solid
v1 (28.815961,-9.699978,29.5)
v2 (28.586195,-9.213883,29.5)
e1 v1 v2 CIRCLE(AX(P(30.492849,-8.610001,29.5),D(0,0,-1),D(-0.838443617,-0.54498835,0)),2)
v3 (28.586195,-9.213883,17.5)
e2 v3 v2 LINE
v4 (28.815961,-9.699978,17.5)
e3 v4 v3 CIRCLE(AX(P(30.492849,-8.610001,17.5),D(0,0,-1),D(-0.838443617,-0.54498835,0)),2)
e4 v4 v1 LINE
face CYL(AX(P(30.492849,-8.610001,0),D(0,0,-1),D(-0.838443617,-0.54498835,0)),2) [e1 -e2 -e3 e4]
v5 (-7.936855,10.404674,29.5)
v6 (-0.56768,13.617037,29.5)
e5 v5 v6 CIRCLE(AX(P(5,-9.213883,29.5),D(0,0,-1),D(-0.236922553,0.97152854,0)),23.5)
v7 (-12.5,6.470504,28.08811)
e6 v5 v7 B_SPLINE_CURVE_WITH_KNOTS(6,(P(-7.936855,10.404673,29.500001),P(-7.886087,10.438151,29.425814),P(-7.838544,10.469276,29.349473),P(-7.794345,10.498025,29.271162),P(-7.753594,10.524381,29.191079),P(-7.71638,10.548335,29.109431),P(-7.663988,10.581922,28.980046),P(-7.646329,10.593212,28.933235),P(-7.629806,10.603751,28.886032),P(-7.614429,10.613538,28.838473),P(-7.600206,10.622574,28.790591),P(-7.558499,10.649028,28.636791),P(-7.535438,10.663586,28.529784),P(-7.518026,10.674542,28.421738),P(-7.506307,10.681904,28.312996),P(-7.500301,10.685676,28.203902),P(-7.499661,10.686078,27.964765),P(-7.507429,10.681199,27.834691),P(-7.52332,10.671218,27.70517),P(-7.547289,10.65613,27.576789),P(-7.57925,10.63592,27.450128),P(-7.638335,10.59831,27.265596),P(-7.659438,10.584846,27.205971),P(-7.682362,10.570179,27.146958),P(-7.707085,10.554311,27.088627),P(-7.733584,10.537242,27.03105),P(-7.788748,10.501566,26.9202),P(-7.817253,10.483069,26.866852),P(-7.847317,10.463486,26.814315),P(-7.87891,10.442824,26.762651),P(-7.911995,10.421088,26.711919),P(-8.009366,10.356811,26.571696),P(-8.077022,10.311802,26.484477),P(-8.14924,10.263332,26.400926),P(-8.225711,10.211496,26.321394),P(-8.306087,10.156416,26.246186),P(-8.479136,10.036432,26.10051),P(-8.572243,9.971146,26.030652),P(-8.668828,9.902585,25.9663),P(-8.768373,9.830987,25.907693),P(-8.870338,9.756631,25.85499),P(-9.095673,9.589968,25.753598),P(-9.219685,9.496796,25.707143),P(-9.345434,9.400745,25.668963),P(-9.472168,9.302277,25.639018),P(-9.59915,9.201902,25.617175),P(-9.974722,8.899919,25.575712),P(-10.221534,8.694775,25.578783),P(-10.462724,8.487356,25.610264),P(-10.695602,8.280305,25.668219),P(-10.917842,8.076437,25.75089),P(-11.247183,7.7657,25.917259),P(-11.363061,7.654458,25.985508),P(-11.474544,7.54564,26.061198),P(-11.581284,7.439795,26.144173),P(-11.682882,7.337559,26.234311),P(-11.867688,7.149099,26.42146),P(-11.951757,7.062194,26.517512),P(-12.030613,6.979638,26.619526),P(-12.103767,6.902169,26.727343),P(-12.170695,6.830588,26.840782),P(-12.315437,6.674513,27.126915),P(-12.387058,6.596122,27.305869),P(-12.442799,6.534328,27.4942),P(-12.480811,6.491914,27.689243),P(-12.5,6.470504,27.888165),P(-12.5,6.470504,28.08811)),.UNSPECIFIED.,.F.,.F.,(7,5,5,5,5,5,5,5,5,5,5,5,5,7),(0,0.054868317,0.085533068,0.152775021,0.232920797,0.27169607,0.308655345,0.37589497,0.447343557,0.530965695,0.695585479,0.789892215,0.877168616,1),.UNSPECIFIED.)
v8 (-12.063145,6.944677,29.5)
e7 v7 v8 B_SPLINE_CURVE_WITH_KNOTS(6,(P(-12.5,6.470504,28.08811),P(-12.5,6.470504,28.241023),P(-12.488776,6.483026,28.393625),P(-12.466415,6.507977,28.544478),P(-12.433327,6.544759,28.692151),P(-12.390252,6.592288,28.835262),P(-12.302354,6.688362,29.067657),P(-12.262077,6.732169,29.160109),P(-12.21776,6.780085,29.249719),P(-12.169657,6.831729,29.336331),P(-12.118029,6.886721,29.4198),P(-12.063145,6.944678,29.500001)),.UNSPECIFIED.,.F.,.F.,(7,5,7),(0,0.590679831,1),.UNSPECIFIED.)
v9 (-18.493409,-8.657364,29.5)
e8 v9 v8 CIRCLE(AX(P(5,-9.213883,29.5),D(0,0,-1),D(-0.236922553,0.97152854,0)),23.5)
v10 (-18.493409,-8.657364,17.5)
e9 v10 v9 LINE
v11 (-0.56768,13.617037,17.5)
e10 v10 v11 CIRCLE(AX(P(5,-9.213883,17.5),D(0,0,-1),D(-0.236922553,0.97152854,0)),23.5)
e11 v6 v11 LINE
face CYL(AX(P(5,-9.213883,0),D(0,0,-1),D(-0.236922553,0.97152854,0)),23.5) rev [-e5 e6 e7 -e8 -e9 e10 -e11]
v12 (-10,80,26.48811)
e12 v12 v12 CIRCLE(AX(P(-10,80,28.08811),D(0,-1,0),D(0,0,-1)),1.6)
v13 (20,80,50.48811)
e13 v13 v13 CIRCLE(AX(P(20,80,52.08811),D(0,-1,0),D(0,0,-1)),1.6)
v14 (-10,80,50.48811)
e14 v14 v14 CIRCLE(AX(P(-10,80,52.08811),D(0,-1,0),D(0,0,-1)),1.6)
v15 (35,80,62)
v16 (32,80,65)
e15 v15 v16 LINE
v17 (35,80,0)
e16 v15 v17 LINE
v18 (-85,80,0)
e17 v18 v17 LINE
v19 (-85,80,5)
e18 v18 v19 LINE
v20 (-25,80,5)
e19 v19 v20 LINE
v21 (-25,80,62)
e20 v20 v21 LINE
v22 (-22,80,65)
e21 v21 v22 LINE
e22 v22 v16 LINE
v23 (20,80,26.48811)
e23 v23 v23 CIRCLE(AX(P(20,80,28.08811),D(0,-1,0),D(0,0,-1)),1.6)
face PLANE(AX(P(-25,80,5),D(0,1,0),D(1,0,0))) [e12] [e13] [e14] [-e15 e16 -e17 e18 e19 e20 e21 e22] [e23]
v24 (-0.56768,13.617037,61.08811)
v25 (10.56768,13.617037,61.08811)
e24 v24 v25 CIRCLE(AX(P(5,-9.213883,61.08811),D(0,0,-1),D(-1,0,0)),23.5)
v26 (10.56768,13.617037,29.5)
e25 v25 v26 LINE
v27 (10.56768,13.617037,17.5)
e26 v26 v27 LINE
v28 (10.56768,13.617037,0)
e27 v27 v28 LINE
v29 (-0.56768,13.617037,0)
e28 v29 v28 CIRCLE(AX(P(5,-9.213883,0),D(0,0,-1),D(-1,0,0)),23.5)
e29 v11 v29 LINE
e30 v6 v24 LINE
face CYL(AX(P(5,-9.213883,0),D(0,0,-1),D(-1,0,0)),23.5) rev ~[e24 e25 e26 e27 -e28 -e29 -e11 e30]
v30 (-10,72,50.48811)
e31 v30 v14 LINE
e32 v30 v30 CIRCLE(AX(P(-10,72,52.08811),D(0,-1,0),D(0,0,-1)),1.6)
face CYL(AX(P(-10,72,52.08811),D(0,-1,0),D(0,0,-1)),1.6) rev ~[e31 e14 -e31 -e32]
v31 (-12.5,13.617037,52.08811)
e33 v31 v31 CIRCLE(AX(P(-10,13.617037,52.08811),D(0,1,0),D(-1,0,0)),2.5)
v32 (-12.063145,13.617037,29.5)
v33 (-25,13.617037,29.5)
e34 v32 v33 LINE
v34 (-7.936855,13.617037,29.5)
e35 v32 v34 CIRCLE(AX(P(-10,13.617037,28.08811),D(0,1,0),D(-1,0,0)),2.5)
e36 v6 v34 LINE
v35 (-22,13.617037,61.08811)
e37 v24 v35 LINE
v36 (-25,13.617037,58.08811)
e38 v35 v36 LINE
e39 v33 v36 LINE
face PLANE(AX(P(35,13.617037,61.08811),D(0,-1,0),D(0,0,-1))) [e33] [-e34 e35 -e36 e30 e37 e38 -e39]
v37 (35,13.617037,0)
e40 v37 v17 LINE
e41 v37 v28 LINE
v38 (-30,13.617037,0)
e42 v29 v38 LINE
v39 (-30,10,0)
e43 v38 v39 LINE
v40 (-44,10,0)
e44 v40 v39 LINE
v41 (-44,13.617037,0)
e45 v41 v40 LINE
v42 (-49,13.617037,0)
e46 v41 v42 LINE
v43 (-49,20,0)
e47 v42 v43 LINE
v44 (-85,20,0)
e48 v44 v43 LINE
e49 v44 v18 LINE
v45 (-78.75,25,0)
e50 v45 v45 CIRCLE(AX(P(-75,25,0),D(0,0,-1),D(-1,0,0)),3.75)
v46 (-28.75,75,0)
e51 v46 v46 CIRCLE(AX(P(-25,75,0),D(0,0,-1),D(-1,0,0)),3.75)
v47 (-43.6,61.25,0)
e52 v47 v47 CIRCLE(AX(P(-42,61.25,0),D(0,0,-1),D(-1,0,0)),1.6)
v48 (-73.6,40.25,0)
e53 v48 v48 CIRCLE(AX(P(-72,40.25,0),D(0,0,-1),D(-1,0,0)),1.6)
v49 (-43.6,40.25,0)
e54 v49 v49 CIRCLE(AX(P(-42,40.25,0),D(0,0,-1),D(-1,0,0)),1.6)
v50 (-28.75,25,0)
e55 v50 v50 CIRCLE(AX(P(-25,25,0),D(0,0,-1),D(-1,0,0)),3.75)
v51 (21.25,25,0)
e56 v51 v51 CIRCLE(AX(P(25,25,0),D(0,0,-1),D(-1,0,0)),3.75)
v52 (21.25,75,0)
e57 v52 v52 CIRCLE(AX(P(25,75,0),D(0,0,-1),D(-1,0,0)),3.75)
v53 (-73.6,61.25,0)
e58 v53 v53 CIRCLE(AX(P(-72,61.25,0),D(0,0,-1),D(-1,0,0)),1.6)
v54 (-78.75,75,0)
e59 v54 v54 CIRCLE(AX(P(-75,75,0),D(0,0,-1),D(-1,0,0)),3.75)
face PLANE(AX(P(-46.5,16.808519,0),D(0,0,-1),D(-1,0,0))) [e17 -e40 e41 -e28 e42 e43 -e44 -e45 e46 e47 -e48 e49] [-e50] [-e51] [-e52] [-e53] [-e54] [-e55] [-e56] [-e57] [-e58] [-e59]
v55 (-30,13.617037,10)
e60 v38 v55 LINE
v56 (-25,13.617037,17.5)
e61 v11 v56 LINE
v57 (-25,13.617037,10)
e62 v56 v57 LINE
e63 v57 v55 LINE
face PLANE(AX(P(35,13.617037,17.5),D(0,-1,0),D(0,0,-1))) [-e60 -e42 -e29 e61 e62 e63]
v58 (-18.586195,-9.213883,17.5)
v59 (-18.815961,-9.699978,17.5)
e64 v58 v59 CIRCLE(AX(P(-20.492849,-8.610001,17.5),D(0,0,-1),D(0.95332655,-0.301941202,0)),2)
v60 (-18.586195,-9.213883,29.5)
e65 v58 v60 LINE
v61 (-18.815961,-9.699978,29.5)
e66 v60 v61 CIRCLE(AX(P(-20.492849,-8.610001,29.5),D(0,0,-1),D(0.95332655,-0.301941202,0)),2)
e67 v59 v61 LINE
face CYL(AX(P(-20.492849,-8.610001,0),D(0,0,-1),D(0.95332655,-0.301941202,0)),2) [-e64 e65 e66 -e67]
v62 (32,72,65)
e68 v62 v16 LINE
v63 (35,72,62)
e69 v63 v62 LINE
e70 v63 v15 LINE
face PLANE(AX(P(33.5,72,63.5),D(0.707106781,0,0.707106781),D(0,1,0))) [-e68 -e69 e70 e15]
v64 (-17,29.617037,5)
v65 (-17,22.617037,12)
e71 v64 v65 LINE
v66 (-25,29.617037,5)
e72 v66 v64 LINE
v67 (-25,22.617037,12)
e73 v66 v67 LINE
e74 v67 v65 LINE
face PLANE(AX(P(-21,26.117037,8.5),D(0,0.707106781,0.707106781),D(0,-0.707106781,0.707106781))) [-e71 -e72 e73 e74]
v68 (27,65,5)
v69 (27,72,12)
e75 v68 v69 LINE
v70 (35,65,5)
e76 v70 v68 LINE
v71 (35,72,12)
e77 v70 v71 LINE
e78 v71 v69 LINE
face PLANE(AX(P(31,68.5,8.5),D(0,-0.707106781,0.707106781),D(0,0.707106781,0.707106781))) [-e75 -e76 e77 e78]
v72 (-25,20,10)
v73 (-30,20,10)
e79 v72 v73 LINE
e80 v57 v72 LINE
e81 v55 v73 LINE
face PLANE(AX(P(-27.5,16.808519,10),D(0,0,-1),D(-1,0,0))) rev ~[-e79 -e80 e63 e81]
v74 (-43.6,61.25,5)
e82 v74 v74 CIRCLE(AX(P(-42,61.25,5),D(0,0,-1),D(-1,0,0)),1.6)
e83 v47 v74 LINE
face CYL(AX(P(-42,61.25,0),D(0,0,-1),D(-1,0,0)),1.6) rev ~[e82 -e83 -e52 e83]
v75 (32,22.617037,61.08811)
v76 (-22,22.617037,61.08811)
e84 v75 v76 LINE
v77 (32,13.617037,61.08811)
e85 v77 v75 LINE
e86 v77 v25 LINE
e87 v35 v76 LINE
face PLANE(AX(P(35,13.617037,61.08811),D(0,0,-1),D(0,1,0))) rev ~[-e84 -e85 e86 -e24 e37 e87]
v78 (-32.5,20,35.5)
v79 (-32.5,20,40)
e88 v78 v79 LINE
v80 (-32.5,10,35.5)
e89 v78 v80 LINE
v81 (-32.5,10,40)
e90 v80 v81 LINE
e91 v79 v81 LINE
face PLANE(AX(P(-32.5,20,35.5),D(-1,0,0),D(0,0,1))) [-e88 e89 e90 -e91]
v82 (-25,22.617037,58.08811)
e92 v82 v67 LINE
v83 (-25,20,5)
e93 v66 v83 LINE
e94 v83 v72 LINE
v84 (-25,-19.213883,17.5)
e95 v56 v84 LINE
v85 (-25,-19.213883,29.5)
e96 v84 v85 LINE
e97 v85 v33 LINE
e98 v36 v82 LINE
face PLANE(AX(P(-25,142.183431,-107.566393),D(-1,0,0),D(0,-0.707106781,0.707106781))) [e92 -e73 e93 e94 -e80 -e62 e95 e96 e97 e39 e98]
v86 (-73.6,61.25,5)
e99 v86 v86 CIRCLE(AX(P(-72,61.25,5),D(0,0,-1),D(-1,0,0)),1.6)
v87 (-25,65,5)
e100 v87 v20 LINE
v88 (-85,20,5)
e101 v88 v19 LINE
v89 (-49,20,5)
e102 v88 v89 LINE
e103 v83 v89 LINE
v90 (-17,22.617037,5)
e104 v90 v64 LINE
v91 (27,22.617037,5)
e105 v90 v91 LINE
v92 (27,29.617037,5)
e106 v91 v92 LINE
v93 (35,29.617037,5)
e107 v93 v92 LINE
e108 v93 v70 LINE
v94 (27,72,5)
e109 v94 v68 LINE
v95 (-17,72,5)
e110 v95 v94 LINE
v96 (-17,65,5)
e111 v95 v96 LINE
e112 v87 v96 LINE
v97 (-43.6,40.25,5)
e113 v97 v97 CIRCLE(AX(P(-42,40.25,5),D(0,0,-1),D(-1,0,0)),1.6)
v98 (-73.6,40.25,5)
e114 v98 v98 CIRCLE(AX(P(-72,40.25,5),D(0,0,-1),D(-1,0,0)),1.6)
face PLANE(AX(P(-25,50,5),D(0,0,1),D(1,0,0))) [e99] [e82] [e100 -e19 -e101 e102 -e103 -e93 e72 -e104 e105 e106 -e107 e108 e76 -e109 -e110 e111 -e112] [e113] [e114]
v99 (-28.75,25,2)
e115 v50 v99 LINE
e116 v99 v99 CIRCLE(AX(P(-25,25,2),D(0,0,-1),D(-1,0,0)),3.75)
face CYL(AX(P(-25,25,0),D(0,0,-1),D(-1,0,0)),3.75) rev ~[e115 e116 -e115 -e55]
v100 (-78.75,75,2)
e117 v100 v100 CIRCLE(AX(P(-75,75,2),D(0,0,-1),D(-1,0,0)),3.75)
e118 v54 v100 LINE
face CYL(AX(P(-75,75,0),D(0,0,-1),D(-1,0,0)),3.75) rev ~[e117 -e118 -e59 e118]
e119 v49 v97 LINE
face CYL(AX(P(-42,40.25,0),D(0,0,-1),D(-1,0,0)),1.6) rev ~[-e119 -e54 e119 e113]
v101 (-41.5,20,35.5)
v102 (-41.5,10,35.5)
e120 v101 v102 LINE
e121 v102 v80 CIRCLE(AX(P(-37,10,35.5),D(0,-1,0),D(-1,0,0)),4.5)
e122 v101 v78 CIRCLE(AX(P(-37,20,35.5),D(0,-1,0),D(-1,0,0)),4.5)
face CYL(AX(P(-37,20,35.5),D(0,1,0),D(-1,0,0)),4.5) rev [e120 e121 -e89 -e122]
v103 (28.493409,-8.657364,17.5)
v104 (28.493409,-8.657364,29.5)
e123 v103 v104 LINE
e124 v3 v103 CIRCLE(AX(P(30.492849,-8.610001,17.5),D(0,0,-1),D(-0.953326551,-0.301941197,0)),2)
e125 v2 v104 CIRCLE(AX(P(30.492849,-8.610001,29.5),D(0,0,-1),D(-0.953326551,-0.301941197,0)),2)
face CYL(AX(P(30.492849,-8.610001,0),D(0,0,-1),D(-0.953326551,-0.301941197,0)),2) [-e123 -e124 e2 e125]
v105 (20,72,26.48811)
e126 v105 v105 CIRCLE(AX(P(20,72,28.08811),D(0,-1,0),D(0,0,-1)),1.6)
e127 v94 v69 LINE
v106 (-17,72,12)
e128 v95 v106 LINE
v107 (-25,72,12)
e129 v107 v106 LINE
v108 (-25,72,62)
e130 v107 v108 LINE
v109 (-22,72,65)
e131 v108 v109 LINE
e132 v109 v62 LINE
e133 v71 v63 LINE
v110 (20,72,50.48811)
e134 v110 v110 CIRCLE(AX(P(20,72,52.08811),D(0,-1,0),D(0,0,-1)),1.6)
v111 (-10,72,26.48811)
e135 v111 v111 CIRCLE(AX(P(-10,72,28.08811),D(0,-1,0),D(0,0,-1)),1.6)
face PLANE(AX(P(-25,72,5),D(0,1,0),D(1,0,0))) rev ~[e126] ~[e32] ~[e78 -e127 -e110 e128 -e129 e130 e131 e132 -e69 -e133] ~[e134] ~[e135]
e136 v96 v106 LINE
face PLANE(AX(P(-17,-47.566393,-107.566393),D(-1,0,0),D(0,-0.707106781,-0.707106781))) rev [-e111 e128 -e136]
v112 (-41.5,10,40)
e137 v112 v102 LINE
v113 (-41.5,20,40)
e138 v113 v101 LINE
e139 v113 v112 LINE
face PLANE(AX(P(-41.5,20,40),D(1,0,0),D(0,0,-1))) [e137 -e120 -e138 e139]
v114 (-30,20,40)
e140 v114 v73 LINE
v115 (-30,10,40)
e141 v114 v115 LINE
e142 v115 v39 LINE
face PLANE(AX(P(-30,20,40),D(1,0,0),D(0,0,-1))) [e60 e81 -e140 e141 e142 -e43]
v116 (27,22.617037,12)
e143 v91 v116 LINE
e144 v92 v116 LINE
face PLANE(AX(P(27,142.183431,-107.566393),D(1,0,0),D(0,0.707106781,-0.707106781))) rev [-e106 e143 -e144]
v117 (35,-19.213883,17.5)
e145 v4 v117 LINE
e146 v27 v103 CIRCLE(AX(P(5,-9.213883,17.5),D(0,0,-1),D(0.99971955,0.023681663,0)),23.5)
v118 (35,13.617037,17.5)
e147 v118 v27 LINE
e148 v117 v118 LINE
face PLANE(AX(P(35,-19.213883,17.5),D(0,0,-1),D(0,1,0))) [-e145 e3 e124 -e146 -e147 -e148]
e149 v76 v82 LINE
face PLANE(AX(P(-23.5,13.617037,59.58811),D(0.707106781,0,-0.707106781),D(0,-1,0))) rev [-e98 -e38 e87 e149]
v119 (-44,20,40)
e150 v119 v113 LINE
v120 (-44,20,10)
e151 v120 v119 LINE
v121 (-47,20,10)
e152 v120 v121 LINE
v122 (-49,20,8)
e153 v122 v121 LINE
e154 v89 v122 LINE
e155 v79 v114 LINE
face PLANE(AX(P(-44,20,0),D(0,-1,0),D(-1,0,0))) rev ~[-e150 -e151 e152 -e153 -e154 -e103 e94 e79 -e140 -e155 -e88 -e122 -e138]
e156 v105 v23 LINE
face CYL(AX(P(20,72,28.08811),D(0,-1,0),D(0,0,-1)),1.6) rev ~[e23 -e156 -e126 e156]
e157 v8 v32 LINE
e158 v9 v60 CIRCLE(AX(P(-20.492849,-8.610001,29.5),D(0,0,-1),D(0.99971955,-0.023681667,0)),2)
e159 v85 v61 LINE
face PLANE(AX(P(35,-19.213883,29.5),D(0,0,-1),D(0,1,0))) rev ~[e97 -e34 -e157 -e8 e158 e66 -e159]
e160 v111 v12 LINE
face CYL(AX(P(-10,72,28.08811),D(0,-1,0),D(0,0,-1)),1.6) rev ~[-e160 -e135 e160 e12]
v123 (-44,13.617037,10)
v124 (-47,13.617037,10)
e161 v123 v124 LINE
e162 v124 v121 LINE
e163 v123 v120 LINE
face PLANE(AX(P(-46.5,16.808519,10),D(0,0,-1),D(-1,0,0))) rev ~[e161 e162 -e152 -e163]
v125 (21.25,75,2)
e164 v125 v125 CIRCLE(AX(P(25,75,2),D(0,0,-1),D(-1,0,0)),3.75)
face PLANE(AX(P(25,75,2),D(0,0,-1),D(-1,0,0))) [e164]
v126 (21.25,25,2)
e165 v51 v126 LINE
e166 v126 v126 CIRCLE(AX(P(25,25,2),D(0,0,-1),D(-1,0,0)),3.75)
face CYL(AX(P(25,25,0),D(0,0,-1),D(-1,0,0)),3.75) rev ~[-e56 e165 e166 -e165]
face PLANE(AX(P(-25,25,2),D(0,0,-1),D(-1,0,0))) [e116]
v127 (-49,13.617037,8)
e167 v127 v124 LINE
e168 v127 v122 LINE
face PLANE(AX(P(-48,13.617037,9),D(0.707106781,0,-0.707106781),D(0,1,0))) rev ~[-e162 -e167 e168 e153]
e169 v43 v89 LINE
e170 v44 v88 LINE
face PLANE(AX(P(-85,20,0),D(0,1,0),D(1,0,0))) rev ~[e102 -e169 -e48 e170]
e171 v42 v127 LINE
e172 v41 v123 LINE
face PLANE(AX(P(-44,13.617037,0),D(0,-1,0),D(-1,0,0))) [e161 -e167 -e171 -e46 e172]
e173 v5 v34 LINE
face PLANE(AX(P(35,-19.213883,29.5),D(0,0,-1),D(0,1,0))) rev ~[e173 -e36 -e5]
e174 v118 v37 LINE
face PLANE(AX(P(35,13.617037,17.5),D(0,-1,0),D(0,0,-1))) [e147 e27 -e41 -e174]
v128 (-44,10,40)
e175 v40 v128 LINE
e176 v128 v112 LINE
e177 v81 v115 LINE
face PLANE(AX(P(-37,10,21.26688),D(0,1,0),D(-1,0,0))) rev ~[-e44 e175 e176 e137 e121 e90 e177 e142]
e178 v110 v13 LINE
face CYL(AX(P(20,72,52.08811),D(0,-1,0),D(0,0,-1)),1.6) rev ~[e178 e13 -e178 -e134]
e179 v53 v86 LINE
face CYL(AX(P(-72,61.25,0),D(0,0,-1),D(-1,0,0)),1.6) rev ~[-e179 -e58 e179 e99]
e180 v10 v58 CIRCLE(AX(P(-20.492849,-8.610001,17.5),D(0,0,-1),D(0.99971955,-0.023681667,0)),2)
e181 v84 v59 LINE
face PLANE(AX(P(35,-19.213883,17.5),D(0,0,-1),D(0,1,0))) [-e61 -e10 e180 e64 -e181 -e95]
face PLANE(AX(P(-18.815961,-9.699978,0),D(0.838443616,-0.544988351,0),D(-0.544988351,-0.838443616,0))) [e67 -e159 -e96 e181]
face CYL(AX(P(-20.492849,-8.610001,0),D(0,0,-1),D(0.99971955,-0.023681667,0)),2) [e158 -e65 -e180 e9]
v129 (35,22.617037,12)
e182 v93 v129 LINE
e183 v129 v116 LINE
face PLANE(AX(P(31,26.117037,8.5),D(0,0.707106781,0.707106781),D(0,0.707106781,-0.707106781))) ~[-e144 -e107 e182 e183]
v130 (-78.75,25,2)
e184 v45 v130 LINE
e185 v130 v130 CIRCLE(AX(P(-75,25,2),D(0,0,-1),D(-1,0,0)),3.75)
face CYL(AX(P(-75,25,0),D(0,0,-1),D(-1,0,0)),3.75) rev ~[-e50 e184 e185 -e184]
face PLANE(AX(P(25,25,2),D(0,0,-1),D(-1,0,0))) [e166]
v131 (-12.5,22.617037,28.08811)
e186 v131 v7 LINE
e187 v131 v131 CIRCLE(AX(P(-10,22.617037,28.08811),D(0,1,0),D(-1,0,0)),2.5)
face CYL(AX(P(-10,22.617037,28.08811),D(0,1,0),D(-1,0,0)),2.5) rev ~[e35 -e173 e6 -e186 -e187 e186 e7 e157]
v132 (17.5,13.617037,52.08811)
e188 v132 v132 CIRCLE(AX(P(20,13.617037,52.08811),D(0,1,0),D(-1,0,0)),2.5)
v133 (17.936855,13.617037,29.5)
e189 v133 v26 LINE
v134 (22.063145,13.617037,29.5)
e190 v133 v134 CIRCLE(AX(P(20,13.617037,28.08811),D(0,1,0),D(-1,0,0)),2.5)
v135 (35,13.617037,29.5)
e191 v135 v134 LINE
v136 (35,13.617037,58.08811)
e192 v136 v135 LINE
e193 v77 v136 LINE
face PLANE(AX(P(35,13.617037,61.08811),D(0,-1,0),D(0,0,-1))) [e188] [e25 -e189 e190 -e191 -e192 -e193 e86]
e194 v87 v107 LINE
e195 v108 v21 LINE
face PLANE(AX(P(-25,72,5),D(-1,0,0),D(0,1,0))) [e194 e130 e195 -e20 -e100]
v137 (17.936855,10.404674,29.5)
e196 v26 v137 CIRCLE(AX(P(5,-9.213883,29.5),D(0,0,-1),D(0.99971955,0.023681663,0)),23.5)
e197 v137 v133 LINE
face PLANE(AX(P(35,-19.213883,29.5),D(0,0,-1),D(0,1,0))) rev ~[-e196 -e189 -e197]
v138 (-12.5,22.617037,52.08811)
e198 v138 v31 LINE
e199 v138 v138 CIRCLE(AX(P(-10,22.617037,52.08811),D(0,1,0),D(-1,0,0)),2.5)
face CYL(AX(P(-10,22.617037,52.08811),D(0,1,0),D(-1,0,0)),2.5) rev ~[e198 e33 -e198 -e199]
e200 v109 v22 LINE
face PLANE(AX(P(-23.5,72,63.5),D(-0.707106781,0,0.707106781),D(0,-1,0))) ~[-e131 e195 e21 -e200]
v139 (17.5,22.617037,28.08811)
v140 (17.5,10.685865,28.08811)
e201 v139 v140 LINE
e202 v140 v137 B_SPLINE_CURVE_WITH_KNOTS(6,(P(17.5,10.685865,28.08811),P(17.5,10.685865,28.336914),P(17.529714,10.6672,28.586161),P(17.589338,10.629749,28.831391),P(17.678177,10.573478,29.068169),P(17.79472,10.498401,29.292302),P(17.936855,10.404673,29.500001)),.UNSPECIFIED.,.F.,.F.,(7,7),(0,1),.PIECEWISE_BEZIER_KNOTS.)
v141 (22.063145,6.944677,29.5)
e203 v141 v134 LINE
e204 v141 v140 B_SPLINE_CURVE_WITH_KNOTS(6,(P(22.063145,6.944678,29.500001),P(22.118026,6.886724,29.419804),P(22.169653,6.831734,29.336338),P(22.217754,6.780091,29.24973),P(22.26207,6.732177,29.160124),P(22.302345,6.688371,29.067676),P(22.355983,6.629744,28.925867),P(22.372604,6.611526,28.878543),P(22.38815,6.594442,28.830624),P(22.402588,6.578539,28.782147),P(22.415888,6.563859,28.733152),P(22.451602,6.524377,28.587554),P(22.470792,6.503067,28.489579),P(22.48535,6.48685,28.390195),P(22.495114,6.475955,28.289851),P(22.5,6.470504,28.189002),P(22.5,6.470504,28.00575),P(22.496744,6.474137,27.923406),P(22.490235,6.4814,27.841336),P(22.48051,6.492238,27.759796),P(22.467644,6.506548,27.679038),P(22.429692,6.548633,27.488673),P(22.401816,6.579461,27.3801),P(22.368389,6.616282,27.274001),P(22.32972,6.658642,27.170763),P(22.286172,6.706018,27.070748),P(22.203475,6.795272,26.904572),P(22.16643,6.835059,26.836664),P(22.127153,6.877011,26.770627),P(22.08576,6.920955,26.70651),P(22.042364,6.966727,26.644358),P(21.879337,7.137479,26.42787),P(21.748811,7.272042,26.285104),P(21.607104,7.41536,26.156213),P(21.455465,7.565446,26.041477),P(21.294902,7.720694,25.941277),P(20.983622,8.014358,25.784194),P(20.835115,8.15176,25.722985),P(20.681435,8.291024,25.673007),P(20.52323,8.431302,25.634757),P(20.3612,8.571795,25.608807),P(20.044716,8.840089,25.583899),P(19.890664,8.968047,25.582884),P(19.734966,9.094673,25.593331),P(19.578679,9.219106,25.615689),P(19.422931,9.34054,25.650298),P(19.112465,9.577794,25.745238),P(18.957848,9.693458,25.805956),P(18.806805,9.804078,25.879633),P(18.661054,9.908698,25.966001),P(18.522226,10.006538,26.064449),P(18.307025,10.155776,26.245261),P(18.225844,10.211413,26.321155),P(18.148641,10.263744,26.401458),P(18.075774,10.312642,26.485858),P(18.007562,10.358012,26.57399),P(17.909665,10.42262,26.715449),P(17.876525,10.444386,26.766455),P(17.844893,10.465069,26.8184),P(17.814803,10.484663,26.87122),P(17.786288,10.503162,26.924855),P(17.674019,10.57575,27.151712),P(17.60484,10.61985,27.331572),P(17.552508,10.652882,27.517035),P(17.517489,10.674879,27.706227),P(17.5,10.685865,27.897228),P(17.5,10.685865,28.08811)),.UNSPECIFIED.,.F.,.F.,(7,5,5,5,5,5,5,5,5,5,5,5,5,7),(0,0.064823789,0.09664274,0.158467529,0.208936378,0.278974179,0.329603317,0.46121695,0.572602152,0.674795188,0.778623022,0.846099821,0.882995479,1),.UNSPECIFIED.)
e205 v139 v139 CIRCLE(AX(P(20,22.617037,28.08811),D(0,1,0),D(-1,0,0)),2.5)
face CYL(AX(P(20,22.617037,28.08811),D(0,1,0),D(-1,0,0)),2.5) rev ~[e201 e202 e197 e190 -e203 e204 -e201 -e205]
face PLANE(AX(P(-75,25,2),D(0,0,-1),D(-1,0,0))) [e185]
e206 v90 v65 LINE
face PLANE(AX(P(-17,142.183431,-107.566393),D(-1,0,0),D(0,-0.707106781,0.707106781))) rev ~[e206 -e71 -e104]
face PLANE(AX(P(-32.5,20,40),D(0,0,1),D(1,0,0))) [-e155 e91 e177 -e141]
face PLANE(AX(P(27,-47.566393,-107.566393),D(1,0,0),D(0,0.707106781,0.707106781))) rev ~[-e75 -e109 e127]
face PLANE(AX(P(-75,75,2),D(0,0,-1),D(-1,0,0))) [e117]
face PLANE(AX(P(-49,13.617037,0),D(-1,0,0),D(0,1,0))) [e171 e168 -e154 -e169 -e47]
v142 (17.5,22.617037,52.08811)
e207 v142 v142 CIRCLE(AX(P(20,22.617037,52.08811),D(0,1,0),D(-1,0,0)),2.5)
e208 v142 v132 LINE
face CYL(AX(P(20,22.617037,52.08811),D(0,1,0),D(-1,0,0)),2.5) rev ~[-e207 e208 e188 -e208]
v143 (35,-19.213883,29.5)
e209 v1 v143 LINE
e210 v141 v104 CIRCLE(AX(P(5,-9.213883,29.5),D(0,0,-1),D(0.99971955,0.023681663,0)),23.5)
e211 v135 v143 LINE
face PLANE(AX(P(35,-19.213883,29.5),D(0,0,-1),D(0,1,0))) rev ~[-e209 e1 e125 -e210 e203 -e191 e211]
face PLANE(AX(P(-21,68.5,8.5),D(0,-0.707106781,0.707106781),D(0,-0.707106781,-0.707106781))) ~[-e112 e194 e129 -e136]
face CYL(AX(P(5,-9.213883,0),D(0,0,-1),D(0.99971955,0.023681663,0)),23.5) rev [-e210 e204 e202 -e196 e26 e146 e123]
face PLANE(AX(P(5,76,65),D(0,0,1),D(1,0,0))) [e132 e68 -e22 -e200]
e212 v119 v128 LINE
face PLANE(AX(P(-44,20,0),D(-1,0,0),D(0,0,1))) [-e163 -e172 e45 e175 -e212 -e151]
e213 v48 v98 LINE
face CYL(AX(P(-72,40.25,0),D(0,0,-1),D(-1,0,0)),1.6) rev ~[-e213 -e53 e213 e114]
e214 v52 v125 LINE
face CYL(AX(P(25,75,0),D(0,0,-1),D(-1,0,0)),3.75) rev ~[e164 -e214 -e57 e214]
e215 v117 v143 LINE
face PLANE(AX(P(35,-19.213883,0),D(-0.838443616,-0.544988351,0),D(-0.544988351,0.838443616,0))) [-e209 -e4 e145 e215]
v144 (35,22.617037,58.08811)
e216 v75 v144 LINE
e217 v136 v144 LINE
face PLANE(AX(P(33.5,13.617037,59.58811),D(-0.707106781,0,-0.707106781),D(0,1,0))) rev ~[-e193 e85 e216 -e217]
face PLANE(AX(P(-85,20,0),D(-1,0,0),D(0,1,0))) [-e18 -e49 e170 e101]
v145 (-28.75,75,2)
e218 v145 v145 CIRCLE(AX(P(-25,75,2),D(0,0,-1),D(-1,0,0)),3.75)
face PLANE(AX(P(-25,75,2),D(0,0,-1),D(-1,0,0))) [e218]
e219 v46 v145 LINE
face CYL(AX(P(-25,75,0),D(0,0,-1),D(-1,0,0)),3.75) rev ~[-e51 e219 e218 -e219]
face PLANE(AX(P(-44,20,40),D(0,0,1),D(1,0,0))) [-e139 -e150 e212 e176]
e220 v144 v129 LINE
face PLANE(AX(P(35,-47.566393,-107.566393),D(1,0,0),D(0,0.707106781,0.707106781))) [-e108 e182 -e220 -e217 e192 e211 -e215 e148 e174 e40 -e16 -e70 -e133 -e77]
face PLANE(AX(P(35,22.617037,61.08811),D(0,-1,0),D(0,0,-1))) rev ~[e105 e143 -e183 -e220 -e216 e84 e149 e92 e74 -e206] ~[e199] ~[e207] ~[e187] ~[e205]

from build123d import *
from build123d.topology import SkipClean

# Parameters (mm, degrees)
SKETCH_1_W               = 120
SKETCH_1_H               = 60
EXTRUDE_1_DEPTH          = 5
SKETCH_3_W               = 60
SKETCH_3_H               = 8
EXTRUDE_3_DEPTH          = 60
SKETCH_4_W               = 61.088110118
SKETCH_4_H               = 9
EXTRUDE_4_DEPTH          = 60
SKETCH_6_R               = 23.5
CUT_EXTRUDE_1_DEPTH      = 134.603892159
EXTRUDE_5_DEPTH          = 50
SKETCH_8_W               = 20.5
SKETCH_8_H               = 32.830920687
SKETCH_8_W_2             = 17.5
CUT_EXTRUDE_2_DEPTH      = 60
EXTRUDE_6_DEPTH          = 10
SKETCH_11_R              = 1.6
CUT_EXTRUDE_3_DEPTH      = 141.605734288
SKETCH_12_R              = 1.6
CUT_EXTRUDE_4_DEPTH      = 134.603892159
RIB_1_REACH              = 160.193
SKETCH_13_WALL_W         = 328.285335328
SKETCH_13_WALL_H         = 8
MIRROR_2_COPY_1_REACH    = 160.193
MIRROR_2_COPY_1_SKETCH_W = 328.285335328
MIRROR_2_COPY_1_SKETCH_H = 8
SKETCH_15_W              = 5
SKETCH_15_H              = 6.382962656
EXTRUDE_7_DEPTH          = 10
CHAMFER_2_SIZE           = 2
CHAMFER_3_SIZE           = 3
SKETCH_16_R              = 2.5
CUT_EXTRUDE_5_DEPTH      = 122.419950598
SKETCH_18_R              = 3.75
CUT_EXTRUDE_7_DEPTH      = 2


with BuildPart() as part:
    # 草图1 → 凸台-拉伸1 (new body)
    with BuildSketch(Plane.XY):
        with Locations((-25, 50)):
            Rectangle(SKETCH_1_W, SKETCH_1_H)
    extrude(amount=EXTRUDE_1_DEPTH)

    # 草图3 → 凸台-拉伸3 (add)
    with BuildSketch(Plane.XY.offset(5)):
        with Locations((5, 76)):
            Rectangle(SKETCH_3_W, SKETCH_3_H)
    extrude(amount=EXTRUDE_3_DEPTH)

    # 草图4 → 凸台-拉伸4 (add)
    with BuildSketch(Plane(origin=(35, 0, 0), x_dir=(0, 0, -1), z_dir=(1, 0, 0))):
        with Locations((-30.544055059, 18.117037344)):
            Rectangle(SKETCH_4_W, SKETCH_4_H)
    extrude(amount=-EXTRUDE_4_DEPTH)

    # 草图6 → 切除-拉伸1 (cut, through all)
    with BuildSketch(Plane(origin=(0, 0, 0), x_dir=(-1, 0, 0), z_dir=(0, 0, -1))):
        with Locations((-5, -9.213883343)):
            Circle(SKETCH_6_R)
    extrude(amount=-CUT_EXTRUDE_1_DEPTH, mode=Mode.SUBTRACT)

    # 草图7 → 凸台-拉伸5 (add)
    with SkipClean():  # the faces are left unmerged after this step: merging them gives an invalid solid
        with BuildSketch(Plane(origin=(0, 0, 0), x_dir=(-1, 0, 0), z_dir=(0, 0, -1))):
            with BuildLine():
                Line((-10.567680001, 13.617037344), (-35, 13.617037344))
                Line((-35, 13.617037344), (-35, -9.213883343))
                Line((-35, -9.213883343), (-28.586195427, -9.213883343))
                ThreePointArc((-28.586195427, -9.213883343), (-28.52007955, -8.938912115), (-28.493409427, -8.657364267))
                ThreePointArc((-28.493409427, -8.657364267), (-23.307757139, 5.51961687), (-10.567680001, 13.617037344))
            make_face()
            with BuildLine():
                Line((25, 13.617037344), (0.567680001, 13.617037344))
                ThreePointArc((0.567680001, 13.617037344), (13.307757139, 5.51961687), (18.493409427, -8.657364267))
                ThreePointArc((18.493409427, -8.657364267), (18.52007955, -8.938912115), (18.586195427, -9.213883343))
                Line((18.586195427, -9.213883343), (25, -9.213883343))
                Line((25, -9.213883343), (25, 13.617037344))
            make_face()
            with BuildLine():
                Line((25, -9.213883343), (18.586195427, -9.213883343))
                ThreePointArc((18.586195427, -9.213883343), (18.684669265, -9.464686705), (18.815961295, -9.699977643))
                Line((18.815961295, -9.699977643), (25, -19.213883343))
                Line((25, -19.213883343), (25, -9.213883343))
            make_face()
            with BuildLine():
                Line((-28.586195427, -9.213883343), (-35, -9.213883343))
                Line((-35, -9.213883343), (-35, -19.213883343))
                Line((-35, -19.213883343), (-28.815961295, -9.699977643))
                ThreePointArc((-28.815961295, -9.699977643), (-28.684669265, -9.464686705), (-28.586195427, -9.213883343))
            make_face()
        extrude(amount=-EXTRUDE_5_DEPTH)

    # 草图8 → 切除-拉伸2 (cut)
    with SkipClean():  # the faces are left unmerged after this step: merging them gives an invalid solid
        with BuildSketch(Plane(origin=(35, 0, 0), x_dir=(0, 0, -1), z_dir=(1, 0, 0))):
            with Locations((-39.75, -2.798423)):
                Rectangle(SKETCH_8_W, SKETCH_8_H)
            with Locations((-8.75, -2.798423)):
                Rectangle(SKETCH_8_W_2, SKETCH_8_H)
        extrude(amount=-CUT_EXTRUDE_2_DEPTH, mode=Mode.SUBTRACT)

    # 草图9 → 凸台-拉伸6 (add)
    with SkipClean():  # the faces are left unmerged after this step: merging them gives an invalid solid
        with BuildSketch(Plane.XZ.offset(-20)):
            with BuildLine():
                Line((-32.5, 0), (-41.5, 0))
                Line((-41.5, 0), (-44, 0))
                Line((-44, 0), (-44, 40))
                Line((-44, 40), (-41.5, 40))
                Line((-41.5, 40), (-41.5, 35.5))
                ThreePointArc((-41.5, 35.5), (-37, 31), (-32.5, 35.5))
                Line((-32.5, 35.5), (-32.5, 40))
                Line((-32.5, 40), (-30, 40))
                Line((-30, 40), (-30, 0))
                Line((-30, 0), (-32.5, 0))
            make_face()
        extrude(amount=EXTRUDE_6_DEPTH)

    # 草图11 → 切除-拉伸3 (cut, through all)
    with SkipClean():  # the faces are left unmerged after this step: merging them gives an invalid solid
        with BuildSketch(Plane(origin=(0, 72, 0), x_dir=(-1, 0, 0), z_dir=(0, -1, 0))):
            with Locations(Location((-20, -52.088110118, 0), (0, 0, 90))):
                Circle(SKETCH_11_R)
            with Locations(Location((10, -28.088110118, 0), (0, 0, 90))):
                Circle(SKETCH_11_R)
            with Locations(Location((-20, -28.088110118, 0), (0, 0, 90))):
                Circle(SKETCH_11_R)
            with Locations(Location((10, -52.088110118, 0), (0, 0, 90))):
                Circle(SKETCH_11_R)
        extrude(amount=-CUT_EXTRUDE_3_DEPTH, mode=Mode.SUBTRACT)

    # 草图12 → 切除-拉伸4 (cut, through all)
    with SkipClean():  # the faces are left unmerged after this step: merging them gives an invalid solid
        with BuildSketch(Plane(origin=(0, 0, 0), x_dir=(-1, 0, 0), z_dir=(0, 0, -1))):
            with Locations((42, 40.25)):
                Circle(SKETCH_12_R)
            with Locations((42, 61.25)):
                Circle(SKETCH_12_R)
            with Locations((72, 40.25)):
                Circle(SKETCH_12_R)
            with Locations((72, 61.25)):
                Circle(SKETCH_12_R)
        extrude(amount=-CUT_EXTRUDE_4_DEPTH, mode=Mode.SUBTRACT)

    # 草图13 wall → 筋1 (add, up to next)
    with BuildSketch(Plane(origin=(35, 68.5, 8.5), x_dir=(0, 0.707106781187, 0.707106781187), z_dir=(0, -0.707106781187, 0.707106781187)), mode=Mode.PRIVATE) as rib_1_sk1:
        with Locations((0, 4)):
            Rectangle(SKETCH_13_WALL_W, SKETCH_13_WALL_H)
    rib_1_tool1 = extrude(rib_1_sk1.sketch, amount=-RIB_1_REACH, mode=Mode.PRIVATE) - part.part
    rib_1 = rib_1_tool1.solids().sort_by_distance((35, 68.5, 8.5))[0]
    add(rib_1)

    # 镜向1: 筋1 across plane
    with SkipClean():  # the faces are left unmerged after this step: merging them gives an invalid solid
        add(rib_1.mirror(Plane(origin=(5, 0, 0), x_dir=(0, 0, 1), z_dir=(1, 0, 0))))

    # 镜向2: 筋1 across plane
    with SkipClean():  # the faces are left unmerged after this step: merging them gives an invalid solid
        add(rib_1.mirror(Plane(origin=(0, 47.308518672, 0), x_dir=(0, 0, 1), z_dir=(0, -1, 0))))

    # 镜向2 copy 1 sketch → 镜向2 copy 1 (add, up to next)
    with BuildSketch(Plane(origin=(-25, 26.117037344, 8.5), x_dir=(0, -0.7071067811870001, 0.7071067811869999), z_dir=(0, 0.7071067811869999, 0.7071067811870001)), mode=Mode.PRIVATE) as mirror_2_copy_1_sk1:
        with Locations((0, 4)):
            Rectangle(MIRROR_2_COPY_1_SKETCH_W, MIRROR_2_COPY_1_SKETCH_H)
    mirror_2_copy_1_tool1 = extrude(mirror_2_copy_1_sk1.sketch, amount=-MIRROR_2_COPY_1_REACH, mode=Mode.PRIVATE) - part.part
    add(mirror_2_copy_1_tool1.solids().sort_by_distance((-25, 26.117037344, 8.5))[0])

    # 草图15 → 凸台-拉伸7 (add)
    with SkipClean():  # the faces are left unmerged after this step: merging them gives an invalid solid
        with BuildSketch(Plane(origin=(0, 0, 0), x_dir=(-1, 0, 0), z_dir=(0, 0, -1))):
            with Locations((27.5, 16.808518672)):
                Rectangle(SKETCH_15_W, SKETCH_15_H)
            with Locations((46.5, 16.808518672)):
                Rectangle(SKETCH_15_W, SKETCH_15_H)
        extrude(amount=-EXTRUDE_7_DEPTH)

    # 倒角2
    chamfer_2_edges = [part.edges().sort_by_distance(p)[0] for p in [
        (-49, 16.808518672, 10),
    ]]
    chamfer(chamfer_2_edges, length=CHAMFER_2_SIZE)

    # 倒角3
    chamfer_3_edges = [part.edges().sort_by_distance(p)[0] for p in [
        (-25, 76, 65),
        (35, 76, 65),
        (35, 18.117037344, 61.088110118),
        (-25, 18.117037344, 61.088110118),
    ]]
    chamfer(chamfer_3_edges, length=CHAMFER_3_SIZE)

    # 草图16 → 切除-拉伸5 (cut, through all)
    with SkipClean():  # the faces are left unmerged after this step: merging them gives an invalid solid
        with BuildSketch(Plane(origin=(0, 22.617037344, 0), x_dir=(1, 0, 0), z_dir=(0, 1, 0))):
            with Locations(Location((20, -52.088110118, 0), (0, 0, 180))):
                Circle(SKETCH_16_R)
            with Locations(Location((-10, -52.088110118, 0), (0, 0, 180))):
                Circle(SKETCH_16_R)
            with Locations(Location((-10, -28.088110118, 0), (0, 0, 180))):
                Circle(SKETCH_16_R)
            with Locations(Location((20, -28.088110118, 0), (0, 0, 180))):
                Circle(SKETCH_16_R)
        extrude(amount=-CUT_EXTRUDE_5_DEPTH, mode=Mode.SUBTRACT)

    # 草图18 → 切除-拉伸7 (cut)
    with SkipClean():  # the faces are left unmerged after this step: merging them gives an invalid solid
        with BuildSketch(Plane(origin=(0, 0, 0), x_dir=(-1, 0, 0), z_dir=(0, 0, -1))):
            with Locations((75, 75)):
                Circle(SKETCH_18_R)
            with Locations((25, 75)):
                Circle(SKETCH_18_R)
            with Locations((-25, 75)):
                Circle(SKETCH_18_R)
            with Locations((-25, 25)):
                Circle(SKETCH_18_R)
            with Locations((25, 25)):
                Circle(SKETCH_18_R)
            with Locations((75, 25)):
                Circle(SKETCH_18_R)
        extrude(amount=-CUT_EXTRUDE_7_DEPTH, mode=Mode.SUBTRACT)


solid = part.part
